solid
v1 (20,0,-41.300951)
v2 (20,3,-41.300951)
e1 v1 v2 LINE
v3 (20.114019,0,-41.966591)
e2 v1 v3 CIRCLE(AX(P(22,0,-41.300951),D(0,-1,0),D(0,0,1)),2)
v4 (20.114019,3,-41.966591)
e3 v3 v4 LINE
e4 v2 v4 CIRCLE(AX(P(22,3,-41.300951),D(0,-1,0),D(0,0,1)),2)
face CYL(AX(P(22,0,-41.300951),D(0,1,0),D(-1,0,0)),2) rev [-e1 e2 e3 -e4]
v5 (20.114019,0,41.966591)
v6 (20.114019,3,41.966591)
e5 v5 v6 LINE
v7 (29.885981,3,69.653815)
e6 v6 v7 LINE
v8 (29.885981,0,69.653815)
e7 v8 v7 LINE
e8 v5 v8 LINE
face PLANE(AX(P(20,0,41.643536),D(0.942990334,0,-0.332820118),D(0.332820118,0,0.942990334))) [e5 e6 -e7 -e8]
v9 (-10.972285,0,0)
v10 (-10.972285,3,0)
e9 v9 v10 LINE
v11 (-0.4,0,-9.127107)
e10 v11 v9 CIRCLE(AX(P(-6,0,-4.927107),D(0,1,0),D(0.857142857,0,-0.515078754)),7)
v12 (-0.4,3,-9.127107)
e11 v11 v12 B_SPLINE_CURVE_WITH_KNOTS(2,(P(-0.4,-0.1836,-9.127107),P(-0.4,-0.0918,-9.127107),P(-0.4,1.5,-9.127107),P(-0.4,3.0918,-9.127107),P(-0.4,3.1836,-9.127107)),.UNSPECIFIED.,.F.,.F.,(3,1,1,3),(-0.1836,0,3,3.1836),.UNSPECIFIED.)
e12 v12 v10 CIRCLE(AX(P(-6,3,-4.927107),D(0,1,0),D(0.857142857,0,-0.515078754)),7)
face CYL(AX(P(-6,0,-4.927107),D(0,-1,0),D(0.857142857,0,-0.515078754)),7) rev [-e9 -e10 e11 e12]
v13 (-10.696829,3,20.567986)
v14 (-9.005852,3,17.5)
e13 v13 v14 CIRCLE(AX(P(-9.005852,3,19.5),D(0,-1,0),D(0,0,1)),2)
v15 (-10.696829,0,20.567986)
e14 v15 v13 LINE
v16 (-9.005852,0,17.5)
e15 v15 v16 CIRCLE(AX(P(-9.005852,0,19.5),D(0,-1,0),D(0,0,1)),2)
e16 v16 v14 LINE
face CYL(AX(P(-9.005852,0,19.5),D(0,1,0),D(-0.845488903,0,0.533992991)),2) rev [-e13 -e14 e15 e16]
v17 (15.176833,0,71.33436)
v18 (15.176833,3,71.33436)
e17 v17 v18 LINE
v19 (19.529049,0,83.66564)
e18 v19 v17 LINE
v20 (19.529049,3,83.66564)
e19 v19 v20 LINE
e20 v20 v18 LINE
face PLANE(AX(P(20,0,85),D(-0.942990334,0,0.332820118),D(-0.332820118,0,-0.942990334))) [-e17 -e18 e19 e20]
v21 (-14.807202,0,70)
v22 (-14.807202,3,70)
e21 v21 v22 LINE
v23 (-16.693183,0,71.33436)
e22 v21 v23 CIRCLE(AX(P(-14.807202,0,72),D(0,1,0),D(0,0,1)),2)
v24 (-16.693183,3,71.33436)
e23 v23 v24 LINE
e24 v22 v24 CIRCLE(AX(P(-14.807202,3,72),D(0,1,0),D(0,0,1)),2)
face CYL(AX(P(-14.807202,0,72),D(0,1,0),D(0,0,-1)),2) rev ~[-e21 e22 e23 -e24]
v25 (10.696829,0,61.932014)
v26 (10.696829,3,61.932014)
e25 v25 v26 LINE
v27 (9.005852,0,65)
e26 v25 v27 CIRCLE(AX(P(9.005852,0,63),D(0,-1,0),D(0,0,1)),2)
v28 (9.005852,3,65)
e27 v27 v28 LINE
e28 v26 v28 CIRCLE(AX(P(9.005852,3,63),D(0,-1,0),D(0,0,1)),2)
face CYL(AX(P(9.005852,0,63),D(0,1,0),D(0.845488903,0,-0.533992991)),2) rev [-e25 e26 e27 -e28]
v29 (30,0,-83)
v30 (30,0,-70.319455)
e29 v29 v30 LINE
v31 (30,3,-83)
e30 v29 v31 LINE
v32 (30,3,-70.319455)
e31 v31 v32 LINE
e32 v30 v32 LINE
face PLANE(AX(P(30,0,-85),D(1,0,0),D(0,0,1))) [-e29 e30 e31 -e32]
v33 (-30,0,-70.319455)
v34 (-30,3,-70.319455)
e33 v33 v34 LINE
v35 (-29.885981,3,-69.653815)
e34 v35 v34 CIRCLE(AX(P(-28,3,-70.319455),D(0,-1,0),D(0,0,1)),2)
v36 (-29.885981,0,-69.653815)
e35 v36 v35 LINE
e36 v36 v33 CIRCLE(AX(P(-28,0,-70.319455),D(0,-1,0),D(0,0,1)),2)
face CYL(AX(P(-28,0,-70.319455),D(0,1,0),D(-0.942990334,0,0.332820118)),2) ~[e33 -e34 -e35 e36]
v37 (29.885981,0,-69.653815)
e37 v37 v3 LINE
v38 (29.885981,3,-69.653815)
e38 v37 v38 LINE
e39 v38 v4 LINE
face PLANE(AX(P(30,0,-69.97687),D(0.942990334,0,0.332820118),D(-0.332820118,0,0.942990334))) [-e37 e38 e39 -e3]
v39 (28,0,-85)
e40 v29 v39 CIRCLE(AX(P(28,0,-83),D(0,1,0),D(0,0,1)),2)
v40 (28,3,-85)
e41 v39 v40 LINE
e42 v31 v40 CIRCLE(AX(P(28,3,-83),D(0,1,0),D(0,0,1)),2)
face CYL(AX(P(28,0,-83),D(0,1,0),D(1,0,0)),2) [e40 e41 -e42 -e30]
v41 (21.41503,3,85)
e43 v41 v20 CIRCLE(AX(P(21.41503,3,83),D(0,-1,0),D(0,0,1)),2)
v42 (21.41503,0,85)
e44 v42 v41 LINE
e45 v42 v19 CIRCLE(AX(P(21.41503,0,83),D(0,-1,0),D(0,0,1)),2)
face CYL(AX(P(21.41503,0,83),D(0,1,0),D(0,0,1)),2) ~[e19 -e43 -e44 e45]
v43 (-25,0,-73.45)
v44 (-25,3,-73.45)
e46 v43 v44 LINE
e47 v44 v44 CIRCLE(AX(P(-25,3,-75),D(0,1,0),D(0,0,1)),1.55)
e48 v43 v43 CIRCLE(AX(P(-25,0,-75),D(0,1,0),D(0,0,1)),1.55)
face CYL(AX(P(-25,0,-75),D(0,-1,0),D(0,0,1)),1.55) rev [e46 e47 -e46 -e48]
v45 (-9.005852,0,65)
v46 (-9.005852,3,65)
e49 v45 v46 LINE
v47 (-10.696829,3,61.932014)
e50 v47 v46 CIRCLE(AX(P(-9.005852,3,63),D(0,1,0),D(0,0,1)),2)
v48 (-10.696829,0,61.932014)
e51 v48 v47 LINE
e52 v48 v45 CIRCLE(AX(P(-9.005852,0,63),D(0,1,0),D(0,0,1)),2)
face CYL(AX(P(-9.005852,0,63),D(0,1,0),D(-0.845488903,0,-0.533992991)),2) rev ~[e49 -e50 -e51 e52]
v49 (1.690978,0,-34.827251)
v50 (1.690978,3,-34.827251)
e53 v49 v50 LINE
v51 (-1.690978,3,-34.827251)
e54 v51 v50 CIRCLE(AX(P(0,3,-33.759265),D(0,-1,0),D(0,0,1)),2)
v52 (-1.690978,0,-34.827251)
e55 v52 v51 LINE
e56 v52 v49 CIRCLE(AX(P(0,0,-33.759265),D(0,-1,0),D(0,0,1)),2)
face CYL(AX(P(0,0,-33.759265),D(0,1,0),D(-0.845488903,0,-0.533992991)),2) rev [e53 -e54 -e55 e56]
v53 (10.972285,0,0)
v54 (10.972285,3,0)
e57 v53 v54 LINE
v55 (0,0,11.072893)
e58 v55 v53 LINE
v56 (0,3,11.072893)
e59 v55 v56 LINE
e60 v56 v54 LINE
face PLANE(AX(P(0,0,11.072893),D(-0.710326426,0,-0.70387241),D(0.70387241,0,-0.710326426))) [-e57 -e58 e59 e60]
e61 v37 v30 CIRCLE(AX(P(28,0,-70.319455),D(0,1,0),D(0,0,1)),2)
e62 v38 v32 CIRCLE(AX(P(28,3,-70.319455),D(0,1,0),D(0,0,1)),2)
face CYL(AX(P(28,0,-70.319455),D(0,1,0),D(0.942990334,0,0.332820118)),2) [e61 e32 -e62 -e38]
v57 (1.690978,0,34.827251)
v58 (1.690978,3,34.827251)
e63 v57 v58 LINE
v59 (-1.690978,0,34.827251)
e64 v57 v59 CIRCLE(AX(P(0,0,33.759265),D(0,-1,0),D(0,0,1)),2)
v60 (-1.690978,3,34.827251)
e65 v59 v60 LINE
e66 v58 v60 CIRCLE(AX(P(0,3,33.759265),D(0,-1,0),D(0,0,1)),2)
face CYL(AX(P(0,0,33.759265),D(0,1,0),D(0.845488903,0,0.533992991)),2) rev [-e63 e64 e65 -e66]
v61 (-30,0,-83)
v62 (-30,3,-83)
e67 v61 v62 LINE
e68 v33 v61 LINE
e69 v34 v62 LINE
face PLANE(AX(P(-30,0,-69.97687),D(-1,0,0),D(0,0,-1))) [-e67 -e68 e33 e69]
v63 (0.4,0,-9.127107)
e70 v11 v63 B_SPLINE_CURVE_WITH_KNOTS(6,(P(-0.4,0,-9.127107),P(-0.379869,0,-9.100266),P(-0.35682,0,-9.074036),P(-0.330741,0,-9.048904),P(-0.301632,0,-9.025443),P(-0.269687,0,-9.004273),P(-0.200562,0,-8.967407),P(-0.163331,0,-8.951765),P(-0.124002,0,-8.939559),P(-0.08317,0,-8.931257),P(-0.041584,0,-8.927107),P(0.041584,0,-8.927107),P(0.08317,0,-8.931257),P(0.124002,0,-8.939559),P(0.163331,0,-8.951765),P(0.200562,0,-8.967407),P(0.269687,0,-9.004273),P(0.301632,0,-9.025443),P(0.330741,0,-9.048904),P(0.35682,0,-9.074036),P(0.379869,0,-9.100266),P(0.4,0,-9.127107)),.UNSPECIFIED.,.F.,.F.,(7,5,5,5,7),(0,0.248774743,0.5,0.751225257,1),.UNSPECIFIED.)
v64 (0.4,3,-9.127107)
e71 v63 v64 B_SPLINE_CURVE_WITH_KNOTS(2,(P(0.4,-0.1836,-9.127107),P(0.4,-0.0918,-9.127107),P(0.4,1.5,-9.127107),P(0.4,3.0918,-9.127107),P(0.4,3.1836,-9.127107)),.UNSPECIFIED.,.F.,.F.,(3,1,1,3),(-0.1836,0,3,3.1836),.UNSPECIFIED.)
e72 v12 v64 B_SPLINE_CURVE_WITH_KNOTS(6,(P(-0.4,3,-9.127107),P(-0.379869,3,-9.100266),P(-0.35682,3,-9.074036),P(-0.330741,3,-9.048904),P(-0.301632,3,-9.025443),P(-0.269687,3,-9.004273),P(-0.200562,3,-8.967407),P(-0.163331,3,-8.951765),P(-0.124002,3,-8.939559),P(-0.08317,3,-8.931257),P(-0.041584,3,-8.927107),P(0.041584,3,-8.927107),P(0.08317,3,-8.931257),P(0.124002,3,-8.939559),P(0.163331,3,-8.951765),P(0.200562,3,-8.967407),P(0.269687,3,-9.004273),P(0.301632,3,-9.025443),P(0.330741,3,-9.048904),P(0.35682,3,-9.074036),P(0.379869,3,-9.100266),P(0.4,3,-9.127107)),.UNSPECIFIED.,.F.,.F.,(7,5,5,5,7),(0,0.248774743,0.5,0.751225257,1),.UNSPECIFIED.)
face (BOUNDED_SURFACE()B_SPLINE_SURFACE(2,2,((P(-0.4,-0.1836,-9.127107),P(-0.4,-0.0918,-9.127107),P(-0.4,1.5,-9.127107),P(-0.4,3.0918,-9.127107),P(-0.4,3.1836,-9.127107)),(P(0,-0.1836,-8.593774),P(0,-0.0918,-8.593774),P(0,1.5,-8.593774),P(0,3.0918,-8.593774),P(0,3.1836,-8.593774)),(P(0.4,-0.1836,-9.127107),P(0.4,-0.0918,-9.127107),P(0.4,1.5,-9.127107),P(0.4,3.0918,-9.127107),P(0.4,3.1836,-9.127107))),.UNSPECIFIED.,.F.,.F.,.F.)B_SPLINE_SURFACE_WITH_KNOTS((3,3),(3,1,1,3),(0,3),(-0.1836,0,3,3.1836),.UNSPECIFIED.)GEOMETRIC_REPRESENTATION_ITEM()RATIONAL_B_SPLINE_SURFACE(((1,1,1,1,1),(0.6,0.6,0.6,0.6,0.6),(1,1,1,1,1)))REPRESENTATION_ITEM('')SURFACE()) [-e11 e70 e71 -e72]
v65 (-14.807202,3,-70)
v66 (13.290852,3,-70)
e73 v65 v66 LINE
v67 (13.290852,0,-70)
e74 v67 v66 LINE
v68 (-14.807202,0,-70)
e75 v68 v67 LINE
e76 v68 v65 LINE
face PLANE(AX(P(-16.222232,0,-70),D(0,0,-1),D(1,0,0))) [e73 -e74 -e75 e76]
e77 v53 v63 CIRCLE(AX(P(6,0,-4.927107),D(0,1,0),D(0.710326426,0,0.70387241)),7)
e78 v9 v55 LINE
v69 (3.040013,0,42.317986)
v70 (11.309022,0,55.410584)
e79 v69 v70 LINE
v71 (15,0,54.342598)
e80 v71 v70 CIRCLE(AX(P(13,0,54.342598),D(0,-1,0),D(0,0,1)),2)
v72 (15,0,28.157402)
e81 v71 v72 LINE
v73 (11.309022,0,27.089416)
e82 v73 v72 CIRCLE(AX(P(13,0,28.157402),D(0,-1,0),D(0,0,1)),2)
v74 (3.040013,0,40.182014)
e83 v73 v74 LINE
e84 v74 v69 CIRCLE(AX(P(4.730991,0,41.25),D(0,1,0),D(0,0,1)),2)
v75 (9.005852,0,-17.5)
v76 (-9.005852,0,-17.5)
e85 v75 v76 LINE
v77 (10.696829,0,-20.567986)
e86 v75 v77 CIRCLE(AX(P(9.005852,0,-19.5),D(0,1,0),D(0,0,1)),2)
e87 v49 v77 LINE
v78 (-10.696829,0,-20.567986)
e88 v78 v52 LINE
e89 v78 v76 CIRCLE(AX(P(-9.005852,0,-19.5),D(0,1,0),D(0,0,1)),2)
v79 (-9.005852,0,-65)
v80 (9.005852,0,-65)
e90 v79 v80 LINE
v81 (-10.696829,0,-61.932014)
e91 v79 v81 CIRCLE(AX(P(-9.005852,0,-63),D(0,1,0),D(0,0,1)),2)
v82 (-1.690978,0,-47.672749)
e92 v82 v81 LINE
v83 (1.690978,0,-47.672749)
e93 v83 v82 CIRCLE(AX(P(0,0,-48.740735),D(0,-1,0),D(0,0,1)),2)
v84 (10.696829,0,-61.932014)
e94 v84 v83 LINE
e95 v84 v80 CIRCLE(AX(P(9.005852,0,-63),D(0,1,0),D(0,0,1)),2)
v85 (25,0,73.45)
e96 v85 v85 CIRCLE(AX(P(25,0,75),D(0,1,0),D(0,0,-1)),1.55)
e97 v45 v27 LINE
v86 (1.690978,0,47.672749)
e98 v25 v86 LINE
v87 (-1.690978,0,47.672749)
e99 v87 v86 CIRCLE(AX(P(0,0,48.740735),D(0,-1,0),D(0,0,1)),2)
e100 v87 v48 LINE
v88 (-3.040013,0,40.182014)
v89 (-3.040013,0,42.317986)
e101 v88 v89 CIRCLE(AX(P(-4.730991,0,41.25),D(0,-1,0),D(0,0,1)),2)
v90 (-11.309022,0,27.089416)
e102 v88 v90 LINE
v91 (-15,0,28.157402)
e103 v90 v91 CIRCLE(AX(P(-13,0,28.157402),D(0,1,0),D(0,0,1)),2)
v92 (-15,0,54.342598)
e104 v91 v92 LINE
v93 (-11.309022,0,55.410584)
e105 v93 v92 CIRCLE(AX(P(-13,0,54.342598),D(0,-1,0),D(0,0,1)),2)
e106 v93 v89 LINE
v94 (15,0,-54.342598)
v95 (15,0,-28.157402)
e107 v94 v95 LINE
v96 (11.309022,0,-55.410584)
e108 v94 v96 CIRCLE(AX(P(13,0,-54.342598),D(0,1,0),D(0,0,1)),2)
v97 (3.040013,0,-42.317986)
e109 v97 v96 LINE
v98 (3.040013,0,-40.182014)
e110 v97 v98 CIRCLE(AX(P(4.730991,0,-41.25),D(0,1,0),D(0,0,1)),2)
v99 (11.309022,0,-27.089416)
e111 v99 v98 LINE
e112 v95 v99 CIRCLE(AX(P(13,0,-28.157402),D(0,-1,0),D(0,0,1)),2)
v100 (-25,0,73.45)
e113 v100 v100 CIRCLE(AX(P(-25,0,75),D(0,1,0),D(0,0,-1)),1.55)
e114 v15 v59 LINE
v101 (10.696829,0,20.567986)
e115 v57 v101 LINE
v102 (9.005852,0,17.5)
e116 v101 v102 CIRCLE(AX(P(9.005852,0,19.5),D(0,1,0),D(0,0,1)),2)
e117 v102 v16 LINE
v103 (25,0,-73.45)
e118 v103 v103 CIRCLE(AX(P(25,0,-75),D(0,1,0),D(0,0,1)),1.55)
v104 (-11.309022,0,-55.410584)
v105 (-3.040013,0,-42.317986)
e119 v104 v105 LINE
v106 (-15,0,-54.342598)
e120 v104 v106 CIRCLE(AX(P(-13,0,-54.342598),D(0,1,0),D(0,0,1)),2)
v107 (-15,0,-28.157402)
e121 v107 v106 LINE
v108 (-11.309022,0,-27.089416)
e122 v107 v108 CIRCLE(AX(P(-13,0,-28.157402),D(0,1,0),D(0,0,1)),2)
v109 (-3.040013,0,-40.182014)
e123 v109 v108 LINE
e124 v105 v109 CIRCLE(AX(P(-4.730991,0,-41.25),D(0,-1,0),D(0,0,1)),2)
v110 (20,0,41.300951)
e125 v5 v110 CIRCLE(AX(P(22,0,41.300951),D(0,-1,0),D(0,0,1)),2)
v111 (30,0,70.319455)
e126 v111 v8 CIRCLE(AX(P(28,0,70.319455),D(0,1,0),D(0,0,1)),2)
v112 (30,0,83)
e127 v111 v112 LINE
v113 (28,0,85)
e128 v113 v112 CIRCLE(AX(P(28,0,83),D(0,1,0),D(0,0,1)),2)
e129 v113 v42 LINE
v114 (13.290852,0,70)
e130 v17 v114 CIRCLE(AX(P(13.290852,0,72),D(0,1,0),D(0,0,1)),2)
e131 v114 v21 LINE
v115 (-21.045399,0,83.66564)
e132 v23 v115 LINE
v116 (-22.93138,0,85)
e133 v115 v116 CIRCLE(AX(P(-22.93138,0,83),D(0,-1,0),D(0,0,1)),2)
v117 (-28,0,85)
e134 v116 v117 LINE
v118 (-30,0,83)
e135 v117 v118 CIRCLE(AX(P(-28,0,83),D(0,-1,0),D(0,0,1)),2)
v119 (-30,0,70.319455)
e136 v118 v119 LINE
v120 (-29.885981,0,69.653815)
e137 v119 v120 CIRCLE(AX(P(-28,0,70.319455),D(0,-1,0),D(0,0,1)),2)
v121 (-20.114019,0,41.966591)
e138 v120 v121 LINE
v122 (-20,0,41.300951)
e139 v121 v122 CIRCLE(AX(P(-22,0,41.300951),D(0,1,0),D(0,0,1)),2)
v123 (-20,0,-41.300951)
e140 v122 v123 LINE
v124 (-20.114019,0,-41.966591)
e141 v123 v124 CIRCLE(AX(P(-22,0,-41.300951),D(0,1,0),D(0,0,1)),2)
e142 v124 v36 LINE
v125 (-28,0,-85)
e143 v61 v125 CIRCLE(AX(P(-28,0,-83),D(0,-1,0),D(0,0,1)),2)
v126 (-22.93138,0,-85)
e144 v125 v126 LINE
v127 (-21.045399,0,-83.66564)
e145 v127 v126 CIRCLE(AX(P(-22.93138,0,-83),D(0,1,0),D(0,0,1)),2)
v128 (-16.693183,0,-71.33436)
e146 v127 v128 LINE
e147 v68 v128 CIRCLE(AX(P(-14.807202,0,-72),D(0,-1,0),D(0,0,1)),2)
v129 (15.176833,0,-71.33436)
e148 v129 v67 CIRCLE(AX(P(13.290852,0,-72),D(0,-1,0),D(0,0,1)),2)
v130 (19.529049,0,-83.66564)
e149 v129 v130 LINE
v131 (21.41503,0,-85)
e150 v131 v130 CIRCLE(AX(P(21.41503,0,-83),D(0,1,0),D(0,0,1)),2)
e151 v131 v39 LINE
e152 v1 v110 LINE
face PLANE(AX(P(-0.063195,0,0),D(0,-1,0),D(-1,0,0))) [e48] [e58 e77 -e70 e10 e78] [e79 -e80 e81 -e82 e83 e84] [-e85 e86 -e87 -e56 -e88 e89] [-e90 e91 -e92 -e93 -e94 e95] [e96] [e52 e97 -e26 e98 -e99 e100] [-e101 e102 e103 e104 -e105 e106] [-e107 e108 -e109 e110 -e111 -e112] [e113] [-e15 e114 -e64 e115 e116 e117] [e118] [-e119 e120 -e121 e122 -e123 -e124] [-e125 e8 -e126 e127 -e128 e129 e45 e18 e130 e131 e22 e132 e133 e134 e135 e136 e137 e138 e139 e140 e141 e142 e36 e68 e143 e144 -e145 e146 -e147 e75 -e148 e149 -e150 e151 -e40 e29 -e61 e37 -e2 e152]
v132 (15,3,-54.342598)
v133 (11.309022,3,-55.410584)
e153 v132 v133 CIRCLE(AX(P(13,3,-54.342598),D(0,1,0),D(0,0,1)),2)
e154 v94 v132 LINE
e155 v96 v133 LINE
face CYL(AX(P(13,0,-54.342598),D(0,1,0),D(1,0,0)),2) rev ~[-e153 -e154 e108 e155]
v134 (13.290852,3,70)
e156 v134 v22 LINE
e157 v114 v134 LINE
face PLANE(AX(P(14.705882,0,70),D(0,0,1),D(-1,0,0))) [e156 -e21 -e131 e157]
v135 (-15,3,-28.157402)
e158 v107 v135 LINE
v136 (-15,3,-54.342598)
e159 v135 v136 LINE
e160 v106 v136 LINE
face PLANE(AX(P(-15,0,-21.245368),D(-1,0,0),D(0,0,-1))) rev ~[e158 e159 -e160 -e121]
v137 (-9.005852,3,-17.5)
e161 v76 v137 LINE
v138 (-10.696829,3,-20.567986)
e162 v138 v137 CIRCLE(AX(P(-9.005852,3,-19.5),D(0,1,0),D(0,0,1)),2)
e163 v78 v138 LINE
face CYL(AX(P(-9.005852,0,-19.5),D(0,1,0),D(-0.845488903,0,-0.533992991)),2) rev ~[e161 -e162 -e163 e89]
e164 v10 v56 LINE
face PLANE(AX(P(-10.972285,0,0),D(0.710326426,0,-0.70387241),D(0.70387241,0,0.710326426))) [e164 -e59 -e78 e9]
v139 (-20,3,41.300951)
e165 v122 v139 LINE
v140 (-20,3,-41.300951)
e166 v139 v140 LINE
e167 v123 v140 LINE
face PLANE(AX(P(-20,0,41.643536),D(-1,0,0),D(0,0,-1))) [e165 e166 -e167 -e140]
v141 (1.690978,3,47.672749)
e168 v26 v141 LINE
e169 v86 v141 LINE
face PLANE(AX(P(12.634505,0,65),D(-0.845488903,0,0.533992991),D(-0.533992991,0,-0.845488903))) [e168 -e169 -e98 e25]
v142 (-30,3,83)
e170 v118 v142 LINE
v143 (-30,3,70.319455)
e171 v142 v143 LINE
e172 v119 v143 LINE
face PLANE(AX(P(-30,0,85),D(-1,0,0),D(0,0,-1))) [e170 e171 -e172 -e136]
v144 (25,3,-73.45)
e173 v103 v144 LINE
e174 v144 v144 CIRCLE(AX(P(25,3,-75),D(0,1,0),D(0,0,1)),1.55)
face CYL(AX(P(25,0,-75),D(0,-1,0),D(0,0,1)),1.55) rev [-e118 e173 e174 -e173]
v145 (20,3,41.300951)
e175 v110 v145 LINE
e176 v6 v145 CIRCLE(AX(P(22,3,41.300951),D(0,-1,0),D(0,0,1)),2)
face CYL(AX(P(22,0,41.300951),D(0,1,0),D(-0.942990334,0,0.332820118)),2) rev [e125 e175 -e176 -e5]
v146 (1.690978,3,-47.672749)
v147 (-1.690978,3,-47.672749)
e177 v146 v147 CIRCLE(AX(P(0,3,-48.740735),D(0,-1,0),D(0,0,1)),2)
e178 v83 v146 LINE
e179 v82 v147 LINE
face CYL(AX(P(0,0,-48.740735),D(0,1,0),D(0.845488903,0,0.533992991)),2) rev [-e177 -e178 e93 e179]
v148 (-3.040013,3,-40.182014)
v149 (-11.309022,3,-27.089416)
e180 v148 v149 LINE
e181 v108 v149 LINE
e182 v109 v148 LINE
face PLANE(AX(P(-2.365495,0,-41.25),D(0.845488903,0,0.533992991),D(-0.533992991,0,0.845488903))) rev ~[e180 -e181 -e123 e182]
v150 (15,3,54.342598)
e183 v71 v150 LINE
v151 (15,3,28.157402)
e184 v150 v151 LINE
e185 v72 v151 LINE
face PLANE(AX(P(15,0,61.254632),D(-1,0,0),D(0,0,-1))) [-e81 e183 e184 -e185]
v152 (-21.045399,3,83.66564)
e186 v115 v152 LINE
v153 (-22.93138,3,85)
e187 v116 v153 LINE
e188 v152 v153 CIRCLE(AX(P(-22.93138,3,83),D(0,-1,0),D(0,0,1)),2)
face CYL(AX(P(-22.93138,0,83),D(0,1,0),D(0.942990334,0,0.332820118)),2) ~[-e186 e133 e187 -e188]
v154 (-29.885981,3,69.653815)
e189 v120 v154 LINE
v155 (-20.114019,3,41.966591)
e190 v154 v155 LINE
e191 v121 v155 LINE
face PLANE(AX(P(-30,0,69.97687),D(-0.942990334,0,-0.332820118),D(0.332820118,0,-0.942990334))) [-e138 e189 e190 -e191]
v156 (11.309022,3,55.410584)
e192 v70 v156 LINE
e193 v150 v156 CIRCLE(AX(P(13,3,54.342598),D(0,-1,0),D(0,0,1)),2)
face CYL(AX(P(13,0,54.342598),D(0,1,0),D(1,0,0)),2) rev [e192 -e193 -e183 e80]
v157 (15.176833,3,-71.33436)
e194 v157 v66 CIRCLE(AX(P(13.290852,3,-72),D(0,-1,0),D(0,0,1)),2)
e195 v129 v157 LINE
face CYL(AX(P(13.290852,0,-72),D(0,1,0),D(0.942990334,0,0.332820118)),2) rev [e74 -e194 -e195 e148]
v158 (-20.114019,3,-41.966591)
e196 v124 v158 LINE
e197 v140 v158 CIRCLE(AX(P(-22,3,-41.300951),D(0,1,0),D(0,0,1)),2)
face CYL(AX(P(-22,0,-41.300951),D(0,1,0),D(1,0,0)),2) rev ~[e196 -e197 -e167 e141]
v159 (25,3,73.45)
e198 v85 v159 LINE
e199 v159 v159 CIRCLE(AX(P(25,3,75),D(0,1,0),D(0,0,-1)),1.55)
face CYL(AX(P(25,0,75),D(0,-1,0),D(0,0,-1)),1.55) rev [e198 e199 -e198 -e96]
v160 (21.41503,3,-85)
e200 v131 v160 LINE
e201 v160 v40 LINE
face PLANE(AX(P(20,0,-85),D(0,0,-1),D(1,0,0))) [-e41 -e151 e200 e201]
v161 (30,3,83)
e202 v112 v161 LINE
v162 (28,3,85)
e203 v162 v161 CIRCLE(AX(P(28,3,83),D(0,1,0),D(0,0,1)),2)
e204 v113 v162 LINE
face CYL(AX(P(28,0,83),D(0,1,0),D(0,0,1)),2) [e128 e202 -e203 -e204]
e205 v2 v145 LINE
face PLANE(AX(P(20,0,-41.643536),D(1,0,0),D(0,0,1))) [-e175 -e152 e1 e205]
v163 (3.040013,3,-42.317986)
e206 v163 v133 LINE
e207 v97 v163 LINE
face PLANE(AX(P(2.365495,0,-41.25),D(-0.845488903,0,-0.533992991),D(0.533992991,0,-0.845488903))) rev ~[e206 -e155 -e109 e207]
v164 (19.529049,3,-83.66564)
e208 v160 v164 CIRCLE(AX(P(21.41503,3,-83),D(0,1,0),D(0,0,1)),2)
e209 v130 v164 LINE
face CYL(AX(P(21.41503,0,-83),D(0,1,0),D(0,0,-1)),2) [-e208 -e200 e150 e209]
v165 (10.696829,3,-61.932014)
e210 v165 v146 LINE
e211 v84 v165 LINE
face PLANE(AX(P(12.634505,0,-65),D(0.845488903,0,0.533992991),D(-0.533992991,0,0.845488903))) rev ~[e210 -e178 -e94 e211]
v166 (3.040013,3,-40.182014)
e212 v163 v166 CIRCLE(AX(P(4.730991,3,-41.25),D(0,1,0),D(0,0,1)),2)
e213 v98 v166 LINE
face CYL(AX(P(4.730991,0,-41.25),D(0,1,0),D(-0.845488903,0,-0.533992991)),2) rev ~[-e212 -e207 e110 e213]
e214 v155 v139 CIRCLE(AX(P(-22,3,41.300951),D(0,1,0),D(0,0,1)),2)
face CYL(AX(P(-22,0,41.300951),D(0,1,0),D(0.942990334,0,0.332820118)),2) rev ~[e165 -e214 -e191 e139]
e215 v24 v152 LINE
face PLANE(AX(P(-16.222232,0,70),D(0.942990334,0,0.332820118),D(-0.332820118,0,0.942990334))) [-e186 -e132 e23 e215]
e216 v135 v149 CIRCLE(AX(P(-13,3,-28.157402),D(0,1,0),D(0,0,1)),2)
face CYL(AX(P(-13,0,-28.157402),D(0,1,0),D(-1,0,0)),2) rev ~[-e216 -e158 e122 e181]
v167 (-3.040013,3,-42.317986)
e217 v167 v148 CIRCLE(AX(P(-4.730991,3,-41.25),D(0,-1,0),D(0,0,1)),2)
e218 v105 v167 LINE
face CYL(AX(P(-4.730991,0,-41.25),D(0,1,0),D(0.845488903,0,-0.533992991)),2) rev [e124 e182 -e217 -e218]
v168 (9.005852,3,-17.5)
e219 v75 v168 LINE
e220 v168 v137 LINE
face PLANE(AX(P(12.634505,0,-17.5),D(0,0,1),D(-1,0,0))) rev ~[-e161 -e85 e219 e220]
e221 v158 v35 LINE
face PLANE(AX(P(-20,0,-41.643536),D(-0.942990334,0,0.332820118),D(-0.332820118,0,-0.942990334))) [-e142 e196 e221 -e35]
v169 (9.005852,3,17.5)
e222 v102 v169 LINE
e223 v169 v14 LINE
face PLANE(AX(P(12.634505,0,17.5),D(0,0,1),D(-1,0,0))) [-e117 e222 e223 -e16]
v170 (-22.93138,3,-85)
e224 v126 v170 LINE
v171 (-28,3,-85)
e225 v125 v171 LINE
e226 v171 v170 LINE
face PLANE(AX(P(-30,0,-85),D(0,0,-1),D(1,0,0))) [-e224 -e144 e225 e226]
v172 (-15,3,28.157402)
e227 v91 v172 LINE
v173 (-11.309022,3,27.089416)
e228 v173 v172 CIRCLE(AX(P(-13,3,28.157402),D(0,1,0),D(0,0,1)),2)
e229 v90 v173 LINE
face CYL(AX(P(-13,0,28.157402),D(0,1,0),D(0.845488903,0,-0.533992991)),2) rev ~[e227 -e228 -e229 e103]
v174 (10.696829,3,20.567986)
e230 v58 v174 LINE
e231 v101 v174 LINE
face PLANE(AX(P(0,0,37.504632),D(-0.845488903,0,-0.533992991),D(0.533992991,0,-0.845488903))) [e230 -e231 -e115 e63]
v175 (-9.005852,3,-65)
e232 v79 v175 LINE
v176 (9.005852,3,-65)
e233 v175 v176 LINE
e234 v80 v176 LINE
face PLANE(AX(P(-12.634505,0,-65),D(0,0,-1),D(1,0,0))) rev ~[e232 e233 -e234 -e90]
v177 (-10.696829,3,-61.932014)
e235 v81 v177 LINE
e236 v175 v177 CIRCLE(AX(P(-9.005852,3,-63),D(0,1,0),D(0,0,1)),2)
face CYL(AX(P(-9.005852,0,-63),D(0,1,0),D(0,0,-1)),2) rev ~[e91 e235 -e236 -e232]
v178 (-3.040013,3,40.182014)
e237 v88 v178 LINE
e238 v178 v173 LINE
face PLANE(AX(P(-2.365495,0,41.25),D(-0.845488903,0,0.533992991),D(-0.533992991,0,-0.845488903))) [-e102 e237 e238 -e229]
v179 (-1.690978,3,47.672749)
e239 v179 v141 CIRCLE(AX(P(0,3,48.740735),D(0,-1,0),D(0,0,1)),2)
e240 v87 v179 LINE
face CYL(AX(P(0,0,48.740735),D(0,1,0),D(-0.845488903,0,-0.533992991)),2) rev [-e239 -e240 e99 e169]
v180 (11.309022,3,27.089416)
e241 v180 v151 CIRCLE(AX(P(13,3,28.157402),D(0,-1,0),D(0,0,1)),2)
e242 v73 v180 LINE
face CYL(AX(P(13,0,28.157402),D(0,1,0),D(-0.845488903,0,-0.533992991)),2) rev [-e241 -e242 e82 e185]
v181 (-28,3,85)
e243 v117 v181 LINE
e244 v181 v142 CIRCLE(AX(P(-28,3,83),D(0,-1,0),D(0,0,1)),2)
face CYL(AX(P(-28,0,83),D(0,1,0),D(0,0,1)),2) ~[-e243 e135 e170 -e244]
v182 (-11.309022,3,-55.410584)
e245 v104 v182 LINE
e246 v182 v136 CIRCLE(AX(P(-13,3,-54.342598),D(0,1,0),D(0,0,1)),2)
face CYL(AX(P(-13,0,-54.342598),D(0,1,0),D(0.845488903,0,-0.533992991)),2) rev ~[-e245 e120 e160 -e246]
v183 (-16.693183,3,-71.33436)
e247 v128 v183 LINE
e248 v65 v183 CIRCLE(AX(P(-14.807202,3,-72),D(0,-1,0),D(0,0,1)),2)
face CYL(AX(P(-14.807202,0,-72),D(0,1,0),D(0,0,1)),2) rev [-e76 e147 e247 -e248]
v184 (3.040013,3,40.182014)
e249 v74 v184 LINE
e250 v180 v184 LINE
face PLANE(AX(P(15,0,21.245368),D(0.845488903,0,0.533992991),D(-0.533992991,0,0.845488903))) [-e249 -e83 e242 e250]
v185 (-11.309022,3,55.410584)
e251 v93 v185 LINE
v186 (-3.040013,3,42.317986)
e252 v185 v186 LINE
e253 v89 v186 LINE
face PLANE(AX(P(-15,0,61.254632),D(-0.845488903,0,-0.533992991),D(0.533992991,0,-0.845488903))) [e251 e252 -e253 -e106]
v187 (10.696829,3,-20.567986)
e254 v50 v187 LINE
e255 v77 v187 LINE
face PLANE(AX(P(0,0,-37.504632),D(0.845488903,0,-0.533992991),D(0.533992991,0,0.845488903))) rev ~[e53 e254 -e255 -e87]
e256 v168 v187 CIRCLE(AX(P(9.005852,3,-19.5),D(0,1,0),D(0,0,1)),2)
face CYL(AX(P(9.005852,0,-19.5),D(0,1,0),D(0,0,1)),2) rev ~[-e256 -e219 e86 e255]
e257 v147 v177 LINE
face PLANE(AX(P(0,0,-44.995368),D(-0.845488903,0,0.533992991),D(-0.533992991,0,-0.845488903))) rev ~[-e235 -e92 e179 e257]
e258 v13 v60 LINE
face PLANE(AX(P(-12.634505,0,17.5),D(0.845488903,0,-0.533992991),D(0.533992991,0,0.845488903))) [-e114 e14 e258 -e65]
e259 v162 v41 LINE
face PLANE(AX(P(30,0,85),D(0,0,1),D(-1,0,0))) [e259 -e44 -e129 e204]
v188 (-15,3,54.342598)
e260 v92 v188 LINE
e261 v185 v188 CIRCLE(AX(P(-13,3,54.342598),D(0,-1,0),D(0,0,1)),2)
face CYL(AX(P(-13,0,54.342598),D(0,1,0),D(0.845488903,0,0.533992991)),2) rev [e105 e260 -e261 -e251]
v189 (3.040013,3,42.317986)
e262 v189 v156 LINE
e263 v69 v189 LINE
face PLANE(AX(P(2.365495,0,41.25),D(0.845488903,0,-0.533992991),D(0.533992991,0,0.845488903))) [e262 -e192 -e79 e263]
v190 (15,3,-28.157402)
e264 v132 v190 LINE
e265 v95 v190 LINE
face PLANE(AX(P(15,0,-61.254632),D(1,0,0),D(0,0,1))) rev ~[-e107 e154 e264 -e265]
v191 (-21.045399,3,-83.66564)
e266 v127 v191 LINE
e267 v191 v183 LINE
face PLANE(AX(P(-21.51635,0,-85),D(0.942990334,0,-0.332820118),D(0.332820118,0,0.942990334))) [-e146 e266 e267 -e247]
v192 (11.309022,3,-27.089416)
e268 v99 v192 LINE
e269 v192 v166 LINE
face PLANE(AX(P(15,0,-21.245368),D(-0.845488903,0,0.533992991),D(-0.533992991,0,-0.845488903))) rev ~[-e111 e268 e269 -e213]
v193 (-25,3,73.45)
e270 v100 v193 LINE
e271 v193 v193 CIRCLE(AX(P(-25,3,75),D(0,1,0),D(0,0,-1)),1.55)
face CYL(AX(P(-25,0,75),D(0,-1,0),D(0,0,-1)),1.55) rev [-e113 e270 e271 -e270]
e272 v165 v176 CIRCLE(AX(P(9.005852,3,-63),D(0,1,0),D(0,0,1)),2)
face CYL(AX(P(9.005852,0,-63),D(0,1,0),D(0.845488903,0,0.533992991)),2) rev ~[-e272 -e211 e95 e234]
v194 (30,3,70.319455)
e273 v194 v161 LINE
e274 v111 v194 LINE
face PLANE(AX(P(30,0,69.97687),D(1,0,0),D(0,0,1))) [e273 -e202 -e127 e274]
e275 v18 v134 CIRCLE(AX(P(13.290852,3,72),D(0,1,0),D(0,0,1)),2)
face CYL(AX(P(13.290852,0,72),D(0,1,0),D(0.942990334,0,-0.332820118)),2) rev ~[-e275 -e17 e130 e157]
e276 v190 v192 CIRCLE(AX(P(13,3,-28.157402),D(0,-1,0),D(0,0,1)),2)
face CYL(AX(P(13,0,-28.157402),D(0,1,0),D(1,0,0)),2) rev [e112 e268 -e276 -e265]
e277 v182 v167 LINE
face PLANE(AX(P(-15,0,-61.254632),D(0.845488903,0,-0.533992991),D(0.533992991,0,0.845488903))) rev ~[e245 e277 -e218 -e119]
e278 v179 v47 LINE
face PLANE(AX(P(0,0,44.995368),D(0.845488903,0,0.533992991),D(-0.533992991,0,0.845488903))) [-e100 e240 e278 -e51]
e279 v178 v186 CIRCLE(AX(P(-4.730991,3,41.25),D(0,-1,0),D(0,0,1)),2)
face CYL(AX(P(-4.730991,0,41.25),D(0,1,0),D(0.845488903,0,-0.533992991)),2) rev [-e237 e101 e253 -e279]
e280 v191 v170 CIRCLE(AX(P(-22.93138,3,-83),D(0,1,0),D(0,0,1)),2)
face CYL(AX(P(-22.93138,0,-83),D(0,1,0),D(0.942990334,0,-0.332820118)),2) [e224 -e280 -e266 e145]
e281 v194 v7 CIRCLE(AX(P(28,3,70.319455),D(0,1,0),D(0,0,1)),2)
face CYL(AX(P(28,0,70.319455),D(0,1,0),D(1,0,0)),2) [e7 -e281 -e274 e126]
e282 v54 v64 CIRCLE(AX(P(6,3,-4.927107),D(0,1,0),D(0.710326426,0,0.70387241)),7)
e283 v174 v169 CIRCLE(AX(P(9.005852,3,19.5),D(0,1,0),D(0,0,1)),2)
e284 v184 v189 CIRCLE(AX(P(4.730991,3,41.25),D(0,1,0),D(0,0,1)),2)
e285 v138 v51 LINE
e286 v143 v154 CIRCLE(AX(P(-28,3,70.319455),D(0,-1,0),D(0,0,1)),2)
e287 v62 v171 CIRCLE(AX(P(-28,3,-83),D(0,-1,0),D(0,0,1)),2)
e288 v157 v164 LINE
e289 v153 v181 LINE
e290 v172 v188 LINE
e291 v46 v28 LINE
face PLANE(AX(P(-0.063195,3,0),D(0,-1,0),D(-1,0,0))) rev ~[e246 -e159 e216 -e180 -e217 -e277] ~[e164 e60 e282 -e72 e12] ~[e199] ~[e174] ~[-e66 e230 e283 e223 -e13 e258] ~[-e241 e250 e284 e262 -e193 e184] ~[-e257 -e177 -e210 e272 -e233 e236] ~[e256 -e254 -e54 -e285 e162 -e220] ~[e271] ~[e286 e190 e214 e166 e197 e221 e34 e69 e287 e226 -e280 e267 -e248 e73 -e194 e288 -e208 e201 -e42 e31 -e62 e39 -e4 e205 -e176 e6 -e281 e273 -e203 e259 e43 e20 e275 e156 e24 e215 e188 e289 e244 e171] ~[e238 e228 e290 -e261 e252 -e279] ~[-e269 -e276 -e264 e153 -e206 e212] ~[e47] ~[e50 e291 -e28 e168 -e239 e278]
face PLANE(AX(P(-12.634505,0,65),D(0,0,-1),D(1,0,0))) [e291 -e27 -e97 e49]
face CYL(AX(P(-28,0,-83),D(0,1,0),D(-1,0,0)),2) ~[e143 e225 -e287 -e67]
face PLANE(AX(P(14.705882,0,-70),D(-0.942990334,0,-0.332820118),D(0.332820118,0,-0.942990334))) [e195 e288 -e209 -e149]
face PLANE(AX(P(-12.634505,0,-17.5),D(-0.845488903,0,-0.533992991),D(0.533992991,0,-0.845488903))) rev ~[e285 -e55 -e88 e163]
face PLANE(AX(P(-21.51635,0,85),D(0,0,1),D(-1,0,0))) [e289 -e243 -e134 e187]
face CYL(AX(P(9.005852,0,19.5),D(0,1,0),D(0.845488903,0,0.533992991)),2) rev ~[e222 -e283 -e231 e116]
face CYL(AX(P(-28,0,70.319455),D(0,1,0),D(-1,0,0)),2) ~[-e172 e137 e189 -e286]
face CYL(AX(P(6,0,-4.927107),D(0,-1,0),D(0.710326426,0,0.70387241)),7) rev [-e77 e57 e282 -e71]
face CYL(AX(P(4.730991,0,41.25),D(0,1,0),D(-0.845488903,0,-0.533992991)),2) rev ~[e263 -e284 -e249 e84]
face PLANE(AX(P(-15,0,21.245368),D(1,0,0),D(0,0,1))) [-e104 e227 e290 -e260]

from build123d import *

# Parameters (mm, degrees)
SKETCH_1_R      = 1.55
EXTRUDE_1_DEPTH = 3
FILLET_1_R      = 2
FILLET_2_R      = 0.5


with BuildPart() as part:
    # 草图1 → 凸台-拉伸1 (new body)
    with BuildSketch(Plane(origin=(0, 0, 0), x_dir=(1, 0, 0), z_dir=(0, 1, 0))):
        Polygon((30, -85), (20, -85), (14.705882353, -70), (-16.222232293, -70), (-21.51634994, -85), (-30, -85), (-30, -69.976869686), (-20, -41.643536352), (-20, 41.643536352), (-30, 69.976869686), (-30, 85), (-21.51634994, 85), (-16.222232293, 70), (14.705882353, 70), (20, 85), (30, 85), (30, 69.976869686), (20, 41.643536352), (20, -41.643536352), (30, -69.976869686), align=None)
        with Locations(Location((-25, 75, 0), (0, 0, 270))):
            Circle(SKETCH_1_R, mode=Mode.SUBTRACT)
        with Locations(Location((25, 75, 0), (0, 0, 270))):
            Circle(SKETCH_1_R, mode=Mode.SUBTRACT)
        with Locations(Location((25, -75, 0), (0, 0, 90))):
            Circle(SKETCH_1_R, mode=Mode.SUBTRACT)
        with Locations(Location((-25, -75, 0), (0, 0, 90))):
            Circle(SKETCH_1_R, mode=Mode.SUBTRACT)
        with BuildLine():
            Line((-10.97228498, 0), (0, -11.072893133))
            Line((0, -11.072893133), (10.97228498, 0))
            ThreePointArc((10.97228498, 0), (10.2971634, 10.452899726), (0, 8.532658143))
            ThreePointArc((0, 8.532658143), (-10.2971634, 10.452899726), (-10.97228498, 0))
        make_face(mode=Mode.SUBTRACT)
        Polygon((12.634504731, 65), (0, 44.995367509), (-12.634504731, 65), align=None, mode=Mode.SUBTRACT)
        Polygon((-12.634504731, 17.5), (0, 37.504632491), (12.634504731, 17.5), align=None, mode=Mode.SUBTRACT)
        Polygon((-15, 61.254632491), (-2.365495269, 41.25), (-15, 21.245367509), align=None, mode=Mode.SUBTRACT)
        Polygon((15, 61.254632491), (15, 21.245367509), (2.365495269, 41.25), align=None, mode=Mode.SUBTRACT)
        Polygon((2.365495269, -41.25), (15, -61.254632491), (15, -21.245367509), align=None, mode=Mode.SUBTRACT)
        Polygon((-12.634504731, -65), (12.634504731, -65), (0, -44.995367509), align=None, mode=Mode.SUBTRACT)
        Polygon((-15, -21.245367509), (-15, -61.254632491), (-2.365495269, -41.25), align=None, mode=Mode.SUBTRACT)
        Polygon((12.634504731, -17.5), (-12.634504731, -17.5), (0, -37.504632491), align=None, mode=Mode.SUBTRACT)
    extrude(amount=EXTRUDE_1_DEPTH)

    # 圆角1
    fillet_1_edges = [part.edges().sort_by_distance(p)[0] for p in [
        (-15, 1.5, -21.245367509),
        (-2.365495269, 1.5, -41.25),
        (-15, 1.5, -61.254632491),
        (-12.634504731, 1.5, -17.5),
        (12.634504731, 1.5, -17.5),
        (0, 1.5, -37.504632491),
        (0, 1.5, 44.995367509),
        (-12.634504731, 1.5, 65),
        (12.634504731, 1.5, 65),
        (-2.365495269, 1.5, 41.25),
        (-15, 1.5, 21.245367509),
        (-15, 1.5, 61.254632491),
        (0, 1.5, 37.504632491),
        (12.634504731, 1.5, 17.5),
        (-12.634504731, 1.5, 17.5),
        (-21.51634994, 1.5, -85),
        (-16.222232293, 1.5, -70),
        (14.705882353, 1.5, -70),
        (20, 1.5, -85),
        (30, 1.5, -85),
        (30, 1.5, -69.976869686),
        (20, 1.5, -41.643536352),
        (20, 1.5, 41.643536352),
        (30, 1.5, 69.976869686),
        (30, 1.5, 85),
        (20, 1.5, 85),
        (14.705882353, 1.5, 70),
        (-16.222232293, 1.5, 70),
        (-21.51634994, 1.5, 85),
        (-30, 1.5, 85),
        (-30, 1.5, 69.976869686),
        (-20, 1.5, 41.643536352),
        (-20, 1.5, -41.643536352),
        (-30, 1.5, -69.976869686),
        (-30, 1.5, -85),
        (15, 1.5, 21.245367509),
        (2.365495269, 1.5, 41.25),
        (15, 1.5, 61.254632491),
        (15, 1.5, -61.254632491),
        (2.365495269, 1.5, -41.25),
        (15, 1.5, -21.245367509),
        (-12.634504731, 1.5, -65),
        (0, 1.5, -44.995367509),
        (12.634504731, 1.5, -65),
    ]]
    fillet(fillet_1_edges, radius=FILLET_1_R)

    # 圆角2
    fillet_2_edges = [part.edges().sort_by_distance(p)[0] for p in [
        (0, 1.5, -8.532658143),
    ]]
    fillet(fillet_2_edges, radius=FILLET_2_R)


solid = part.part
